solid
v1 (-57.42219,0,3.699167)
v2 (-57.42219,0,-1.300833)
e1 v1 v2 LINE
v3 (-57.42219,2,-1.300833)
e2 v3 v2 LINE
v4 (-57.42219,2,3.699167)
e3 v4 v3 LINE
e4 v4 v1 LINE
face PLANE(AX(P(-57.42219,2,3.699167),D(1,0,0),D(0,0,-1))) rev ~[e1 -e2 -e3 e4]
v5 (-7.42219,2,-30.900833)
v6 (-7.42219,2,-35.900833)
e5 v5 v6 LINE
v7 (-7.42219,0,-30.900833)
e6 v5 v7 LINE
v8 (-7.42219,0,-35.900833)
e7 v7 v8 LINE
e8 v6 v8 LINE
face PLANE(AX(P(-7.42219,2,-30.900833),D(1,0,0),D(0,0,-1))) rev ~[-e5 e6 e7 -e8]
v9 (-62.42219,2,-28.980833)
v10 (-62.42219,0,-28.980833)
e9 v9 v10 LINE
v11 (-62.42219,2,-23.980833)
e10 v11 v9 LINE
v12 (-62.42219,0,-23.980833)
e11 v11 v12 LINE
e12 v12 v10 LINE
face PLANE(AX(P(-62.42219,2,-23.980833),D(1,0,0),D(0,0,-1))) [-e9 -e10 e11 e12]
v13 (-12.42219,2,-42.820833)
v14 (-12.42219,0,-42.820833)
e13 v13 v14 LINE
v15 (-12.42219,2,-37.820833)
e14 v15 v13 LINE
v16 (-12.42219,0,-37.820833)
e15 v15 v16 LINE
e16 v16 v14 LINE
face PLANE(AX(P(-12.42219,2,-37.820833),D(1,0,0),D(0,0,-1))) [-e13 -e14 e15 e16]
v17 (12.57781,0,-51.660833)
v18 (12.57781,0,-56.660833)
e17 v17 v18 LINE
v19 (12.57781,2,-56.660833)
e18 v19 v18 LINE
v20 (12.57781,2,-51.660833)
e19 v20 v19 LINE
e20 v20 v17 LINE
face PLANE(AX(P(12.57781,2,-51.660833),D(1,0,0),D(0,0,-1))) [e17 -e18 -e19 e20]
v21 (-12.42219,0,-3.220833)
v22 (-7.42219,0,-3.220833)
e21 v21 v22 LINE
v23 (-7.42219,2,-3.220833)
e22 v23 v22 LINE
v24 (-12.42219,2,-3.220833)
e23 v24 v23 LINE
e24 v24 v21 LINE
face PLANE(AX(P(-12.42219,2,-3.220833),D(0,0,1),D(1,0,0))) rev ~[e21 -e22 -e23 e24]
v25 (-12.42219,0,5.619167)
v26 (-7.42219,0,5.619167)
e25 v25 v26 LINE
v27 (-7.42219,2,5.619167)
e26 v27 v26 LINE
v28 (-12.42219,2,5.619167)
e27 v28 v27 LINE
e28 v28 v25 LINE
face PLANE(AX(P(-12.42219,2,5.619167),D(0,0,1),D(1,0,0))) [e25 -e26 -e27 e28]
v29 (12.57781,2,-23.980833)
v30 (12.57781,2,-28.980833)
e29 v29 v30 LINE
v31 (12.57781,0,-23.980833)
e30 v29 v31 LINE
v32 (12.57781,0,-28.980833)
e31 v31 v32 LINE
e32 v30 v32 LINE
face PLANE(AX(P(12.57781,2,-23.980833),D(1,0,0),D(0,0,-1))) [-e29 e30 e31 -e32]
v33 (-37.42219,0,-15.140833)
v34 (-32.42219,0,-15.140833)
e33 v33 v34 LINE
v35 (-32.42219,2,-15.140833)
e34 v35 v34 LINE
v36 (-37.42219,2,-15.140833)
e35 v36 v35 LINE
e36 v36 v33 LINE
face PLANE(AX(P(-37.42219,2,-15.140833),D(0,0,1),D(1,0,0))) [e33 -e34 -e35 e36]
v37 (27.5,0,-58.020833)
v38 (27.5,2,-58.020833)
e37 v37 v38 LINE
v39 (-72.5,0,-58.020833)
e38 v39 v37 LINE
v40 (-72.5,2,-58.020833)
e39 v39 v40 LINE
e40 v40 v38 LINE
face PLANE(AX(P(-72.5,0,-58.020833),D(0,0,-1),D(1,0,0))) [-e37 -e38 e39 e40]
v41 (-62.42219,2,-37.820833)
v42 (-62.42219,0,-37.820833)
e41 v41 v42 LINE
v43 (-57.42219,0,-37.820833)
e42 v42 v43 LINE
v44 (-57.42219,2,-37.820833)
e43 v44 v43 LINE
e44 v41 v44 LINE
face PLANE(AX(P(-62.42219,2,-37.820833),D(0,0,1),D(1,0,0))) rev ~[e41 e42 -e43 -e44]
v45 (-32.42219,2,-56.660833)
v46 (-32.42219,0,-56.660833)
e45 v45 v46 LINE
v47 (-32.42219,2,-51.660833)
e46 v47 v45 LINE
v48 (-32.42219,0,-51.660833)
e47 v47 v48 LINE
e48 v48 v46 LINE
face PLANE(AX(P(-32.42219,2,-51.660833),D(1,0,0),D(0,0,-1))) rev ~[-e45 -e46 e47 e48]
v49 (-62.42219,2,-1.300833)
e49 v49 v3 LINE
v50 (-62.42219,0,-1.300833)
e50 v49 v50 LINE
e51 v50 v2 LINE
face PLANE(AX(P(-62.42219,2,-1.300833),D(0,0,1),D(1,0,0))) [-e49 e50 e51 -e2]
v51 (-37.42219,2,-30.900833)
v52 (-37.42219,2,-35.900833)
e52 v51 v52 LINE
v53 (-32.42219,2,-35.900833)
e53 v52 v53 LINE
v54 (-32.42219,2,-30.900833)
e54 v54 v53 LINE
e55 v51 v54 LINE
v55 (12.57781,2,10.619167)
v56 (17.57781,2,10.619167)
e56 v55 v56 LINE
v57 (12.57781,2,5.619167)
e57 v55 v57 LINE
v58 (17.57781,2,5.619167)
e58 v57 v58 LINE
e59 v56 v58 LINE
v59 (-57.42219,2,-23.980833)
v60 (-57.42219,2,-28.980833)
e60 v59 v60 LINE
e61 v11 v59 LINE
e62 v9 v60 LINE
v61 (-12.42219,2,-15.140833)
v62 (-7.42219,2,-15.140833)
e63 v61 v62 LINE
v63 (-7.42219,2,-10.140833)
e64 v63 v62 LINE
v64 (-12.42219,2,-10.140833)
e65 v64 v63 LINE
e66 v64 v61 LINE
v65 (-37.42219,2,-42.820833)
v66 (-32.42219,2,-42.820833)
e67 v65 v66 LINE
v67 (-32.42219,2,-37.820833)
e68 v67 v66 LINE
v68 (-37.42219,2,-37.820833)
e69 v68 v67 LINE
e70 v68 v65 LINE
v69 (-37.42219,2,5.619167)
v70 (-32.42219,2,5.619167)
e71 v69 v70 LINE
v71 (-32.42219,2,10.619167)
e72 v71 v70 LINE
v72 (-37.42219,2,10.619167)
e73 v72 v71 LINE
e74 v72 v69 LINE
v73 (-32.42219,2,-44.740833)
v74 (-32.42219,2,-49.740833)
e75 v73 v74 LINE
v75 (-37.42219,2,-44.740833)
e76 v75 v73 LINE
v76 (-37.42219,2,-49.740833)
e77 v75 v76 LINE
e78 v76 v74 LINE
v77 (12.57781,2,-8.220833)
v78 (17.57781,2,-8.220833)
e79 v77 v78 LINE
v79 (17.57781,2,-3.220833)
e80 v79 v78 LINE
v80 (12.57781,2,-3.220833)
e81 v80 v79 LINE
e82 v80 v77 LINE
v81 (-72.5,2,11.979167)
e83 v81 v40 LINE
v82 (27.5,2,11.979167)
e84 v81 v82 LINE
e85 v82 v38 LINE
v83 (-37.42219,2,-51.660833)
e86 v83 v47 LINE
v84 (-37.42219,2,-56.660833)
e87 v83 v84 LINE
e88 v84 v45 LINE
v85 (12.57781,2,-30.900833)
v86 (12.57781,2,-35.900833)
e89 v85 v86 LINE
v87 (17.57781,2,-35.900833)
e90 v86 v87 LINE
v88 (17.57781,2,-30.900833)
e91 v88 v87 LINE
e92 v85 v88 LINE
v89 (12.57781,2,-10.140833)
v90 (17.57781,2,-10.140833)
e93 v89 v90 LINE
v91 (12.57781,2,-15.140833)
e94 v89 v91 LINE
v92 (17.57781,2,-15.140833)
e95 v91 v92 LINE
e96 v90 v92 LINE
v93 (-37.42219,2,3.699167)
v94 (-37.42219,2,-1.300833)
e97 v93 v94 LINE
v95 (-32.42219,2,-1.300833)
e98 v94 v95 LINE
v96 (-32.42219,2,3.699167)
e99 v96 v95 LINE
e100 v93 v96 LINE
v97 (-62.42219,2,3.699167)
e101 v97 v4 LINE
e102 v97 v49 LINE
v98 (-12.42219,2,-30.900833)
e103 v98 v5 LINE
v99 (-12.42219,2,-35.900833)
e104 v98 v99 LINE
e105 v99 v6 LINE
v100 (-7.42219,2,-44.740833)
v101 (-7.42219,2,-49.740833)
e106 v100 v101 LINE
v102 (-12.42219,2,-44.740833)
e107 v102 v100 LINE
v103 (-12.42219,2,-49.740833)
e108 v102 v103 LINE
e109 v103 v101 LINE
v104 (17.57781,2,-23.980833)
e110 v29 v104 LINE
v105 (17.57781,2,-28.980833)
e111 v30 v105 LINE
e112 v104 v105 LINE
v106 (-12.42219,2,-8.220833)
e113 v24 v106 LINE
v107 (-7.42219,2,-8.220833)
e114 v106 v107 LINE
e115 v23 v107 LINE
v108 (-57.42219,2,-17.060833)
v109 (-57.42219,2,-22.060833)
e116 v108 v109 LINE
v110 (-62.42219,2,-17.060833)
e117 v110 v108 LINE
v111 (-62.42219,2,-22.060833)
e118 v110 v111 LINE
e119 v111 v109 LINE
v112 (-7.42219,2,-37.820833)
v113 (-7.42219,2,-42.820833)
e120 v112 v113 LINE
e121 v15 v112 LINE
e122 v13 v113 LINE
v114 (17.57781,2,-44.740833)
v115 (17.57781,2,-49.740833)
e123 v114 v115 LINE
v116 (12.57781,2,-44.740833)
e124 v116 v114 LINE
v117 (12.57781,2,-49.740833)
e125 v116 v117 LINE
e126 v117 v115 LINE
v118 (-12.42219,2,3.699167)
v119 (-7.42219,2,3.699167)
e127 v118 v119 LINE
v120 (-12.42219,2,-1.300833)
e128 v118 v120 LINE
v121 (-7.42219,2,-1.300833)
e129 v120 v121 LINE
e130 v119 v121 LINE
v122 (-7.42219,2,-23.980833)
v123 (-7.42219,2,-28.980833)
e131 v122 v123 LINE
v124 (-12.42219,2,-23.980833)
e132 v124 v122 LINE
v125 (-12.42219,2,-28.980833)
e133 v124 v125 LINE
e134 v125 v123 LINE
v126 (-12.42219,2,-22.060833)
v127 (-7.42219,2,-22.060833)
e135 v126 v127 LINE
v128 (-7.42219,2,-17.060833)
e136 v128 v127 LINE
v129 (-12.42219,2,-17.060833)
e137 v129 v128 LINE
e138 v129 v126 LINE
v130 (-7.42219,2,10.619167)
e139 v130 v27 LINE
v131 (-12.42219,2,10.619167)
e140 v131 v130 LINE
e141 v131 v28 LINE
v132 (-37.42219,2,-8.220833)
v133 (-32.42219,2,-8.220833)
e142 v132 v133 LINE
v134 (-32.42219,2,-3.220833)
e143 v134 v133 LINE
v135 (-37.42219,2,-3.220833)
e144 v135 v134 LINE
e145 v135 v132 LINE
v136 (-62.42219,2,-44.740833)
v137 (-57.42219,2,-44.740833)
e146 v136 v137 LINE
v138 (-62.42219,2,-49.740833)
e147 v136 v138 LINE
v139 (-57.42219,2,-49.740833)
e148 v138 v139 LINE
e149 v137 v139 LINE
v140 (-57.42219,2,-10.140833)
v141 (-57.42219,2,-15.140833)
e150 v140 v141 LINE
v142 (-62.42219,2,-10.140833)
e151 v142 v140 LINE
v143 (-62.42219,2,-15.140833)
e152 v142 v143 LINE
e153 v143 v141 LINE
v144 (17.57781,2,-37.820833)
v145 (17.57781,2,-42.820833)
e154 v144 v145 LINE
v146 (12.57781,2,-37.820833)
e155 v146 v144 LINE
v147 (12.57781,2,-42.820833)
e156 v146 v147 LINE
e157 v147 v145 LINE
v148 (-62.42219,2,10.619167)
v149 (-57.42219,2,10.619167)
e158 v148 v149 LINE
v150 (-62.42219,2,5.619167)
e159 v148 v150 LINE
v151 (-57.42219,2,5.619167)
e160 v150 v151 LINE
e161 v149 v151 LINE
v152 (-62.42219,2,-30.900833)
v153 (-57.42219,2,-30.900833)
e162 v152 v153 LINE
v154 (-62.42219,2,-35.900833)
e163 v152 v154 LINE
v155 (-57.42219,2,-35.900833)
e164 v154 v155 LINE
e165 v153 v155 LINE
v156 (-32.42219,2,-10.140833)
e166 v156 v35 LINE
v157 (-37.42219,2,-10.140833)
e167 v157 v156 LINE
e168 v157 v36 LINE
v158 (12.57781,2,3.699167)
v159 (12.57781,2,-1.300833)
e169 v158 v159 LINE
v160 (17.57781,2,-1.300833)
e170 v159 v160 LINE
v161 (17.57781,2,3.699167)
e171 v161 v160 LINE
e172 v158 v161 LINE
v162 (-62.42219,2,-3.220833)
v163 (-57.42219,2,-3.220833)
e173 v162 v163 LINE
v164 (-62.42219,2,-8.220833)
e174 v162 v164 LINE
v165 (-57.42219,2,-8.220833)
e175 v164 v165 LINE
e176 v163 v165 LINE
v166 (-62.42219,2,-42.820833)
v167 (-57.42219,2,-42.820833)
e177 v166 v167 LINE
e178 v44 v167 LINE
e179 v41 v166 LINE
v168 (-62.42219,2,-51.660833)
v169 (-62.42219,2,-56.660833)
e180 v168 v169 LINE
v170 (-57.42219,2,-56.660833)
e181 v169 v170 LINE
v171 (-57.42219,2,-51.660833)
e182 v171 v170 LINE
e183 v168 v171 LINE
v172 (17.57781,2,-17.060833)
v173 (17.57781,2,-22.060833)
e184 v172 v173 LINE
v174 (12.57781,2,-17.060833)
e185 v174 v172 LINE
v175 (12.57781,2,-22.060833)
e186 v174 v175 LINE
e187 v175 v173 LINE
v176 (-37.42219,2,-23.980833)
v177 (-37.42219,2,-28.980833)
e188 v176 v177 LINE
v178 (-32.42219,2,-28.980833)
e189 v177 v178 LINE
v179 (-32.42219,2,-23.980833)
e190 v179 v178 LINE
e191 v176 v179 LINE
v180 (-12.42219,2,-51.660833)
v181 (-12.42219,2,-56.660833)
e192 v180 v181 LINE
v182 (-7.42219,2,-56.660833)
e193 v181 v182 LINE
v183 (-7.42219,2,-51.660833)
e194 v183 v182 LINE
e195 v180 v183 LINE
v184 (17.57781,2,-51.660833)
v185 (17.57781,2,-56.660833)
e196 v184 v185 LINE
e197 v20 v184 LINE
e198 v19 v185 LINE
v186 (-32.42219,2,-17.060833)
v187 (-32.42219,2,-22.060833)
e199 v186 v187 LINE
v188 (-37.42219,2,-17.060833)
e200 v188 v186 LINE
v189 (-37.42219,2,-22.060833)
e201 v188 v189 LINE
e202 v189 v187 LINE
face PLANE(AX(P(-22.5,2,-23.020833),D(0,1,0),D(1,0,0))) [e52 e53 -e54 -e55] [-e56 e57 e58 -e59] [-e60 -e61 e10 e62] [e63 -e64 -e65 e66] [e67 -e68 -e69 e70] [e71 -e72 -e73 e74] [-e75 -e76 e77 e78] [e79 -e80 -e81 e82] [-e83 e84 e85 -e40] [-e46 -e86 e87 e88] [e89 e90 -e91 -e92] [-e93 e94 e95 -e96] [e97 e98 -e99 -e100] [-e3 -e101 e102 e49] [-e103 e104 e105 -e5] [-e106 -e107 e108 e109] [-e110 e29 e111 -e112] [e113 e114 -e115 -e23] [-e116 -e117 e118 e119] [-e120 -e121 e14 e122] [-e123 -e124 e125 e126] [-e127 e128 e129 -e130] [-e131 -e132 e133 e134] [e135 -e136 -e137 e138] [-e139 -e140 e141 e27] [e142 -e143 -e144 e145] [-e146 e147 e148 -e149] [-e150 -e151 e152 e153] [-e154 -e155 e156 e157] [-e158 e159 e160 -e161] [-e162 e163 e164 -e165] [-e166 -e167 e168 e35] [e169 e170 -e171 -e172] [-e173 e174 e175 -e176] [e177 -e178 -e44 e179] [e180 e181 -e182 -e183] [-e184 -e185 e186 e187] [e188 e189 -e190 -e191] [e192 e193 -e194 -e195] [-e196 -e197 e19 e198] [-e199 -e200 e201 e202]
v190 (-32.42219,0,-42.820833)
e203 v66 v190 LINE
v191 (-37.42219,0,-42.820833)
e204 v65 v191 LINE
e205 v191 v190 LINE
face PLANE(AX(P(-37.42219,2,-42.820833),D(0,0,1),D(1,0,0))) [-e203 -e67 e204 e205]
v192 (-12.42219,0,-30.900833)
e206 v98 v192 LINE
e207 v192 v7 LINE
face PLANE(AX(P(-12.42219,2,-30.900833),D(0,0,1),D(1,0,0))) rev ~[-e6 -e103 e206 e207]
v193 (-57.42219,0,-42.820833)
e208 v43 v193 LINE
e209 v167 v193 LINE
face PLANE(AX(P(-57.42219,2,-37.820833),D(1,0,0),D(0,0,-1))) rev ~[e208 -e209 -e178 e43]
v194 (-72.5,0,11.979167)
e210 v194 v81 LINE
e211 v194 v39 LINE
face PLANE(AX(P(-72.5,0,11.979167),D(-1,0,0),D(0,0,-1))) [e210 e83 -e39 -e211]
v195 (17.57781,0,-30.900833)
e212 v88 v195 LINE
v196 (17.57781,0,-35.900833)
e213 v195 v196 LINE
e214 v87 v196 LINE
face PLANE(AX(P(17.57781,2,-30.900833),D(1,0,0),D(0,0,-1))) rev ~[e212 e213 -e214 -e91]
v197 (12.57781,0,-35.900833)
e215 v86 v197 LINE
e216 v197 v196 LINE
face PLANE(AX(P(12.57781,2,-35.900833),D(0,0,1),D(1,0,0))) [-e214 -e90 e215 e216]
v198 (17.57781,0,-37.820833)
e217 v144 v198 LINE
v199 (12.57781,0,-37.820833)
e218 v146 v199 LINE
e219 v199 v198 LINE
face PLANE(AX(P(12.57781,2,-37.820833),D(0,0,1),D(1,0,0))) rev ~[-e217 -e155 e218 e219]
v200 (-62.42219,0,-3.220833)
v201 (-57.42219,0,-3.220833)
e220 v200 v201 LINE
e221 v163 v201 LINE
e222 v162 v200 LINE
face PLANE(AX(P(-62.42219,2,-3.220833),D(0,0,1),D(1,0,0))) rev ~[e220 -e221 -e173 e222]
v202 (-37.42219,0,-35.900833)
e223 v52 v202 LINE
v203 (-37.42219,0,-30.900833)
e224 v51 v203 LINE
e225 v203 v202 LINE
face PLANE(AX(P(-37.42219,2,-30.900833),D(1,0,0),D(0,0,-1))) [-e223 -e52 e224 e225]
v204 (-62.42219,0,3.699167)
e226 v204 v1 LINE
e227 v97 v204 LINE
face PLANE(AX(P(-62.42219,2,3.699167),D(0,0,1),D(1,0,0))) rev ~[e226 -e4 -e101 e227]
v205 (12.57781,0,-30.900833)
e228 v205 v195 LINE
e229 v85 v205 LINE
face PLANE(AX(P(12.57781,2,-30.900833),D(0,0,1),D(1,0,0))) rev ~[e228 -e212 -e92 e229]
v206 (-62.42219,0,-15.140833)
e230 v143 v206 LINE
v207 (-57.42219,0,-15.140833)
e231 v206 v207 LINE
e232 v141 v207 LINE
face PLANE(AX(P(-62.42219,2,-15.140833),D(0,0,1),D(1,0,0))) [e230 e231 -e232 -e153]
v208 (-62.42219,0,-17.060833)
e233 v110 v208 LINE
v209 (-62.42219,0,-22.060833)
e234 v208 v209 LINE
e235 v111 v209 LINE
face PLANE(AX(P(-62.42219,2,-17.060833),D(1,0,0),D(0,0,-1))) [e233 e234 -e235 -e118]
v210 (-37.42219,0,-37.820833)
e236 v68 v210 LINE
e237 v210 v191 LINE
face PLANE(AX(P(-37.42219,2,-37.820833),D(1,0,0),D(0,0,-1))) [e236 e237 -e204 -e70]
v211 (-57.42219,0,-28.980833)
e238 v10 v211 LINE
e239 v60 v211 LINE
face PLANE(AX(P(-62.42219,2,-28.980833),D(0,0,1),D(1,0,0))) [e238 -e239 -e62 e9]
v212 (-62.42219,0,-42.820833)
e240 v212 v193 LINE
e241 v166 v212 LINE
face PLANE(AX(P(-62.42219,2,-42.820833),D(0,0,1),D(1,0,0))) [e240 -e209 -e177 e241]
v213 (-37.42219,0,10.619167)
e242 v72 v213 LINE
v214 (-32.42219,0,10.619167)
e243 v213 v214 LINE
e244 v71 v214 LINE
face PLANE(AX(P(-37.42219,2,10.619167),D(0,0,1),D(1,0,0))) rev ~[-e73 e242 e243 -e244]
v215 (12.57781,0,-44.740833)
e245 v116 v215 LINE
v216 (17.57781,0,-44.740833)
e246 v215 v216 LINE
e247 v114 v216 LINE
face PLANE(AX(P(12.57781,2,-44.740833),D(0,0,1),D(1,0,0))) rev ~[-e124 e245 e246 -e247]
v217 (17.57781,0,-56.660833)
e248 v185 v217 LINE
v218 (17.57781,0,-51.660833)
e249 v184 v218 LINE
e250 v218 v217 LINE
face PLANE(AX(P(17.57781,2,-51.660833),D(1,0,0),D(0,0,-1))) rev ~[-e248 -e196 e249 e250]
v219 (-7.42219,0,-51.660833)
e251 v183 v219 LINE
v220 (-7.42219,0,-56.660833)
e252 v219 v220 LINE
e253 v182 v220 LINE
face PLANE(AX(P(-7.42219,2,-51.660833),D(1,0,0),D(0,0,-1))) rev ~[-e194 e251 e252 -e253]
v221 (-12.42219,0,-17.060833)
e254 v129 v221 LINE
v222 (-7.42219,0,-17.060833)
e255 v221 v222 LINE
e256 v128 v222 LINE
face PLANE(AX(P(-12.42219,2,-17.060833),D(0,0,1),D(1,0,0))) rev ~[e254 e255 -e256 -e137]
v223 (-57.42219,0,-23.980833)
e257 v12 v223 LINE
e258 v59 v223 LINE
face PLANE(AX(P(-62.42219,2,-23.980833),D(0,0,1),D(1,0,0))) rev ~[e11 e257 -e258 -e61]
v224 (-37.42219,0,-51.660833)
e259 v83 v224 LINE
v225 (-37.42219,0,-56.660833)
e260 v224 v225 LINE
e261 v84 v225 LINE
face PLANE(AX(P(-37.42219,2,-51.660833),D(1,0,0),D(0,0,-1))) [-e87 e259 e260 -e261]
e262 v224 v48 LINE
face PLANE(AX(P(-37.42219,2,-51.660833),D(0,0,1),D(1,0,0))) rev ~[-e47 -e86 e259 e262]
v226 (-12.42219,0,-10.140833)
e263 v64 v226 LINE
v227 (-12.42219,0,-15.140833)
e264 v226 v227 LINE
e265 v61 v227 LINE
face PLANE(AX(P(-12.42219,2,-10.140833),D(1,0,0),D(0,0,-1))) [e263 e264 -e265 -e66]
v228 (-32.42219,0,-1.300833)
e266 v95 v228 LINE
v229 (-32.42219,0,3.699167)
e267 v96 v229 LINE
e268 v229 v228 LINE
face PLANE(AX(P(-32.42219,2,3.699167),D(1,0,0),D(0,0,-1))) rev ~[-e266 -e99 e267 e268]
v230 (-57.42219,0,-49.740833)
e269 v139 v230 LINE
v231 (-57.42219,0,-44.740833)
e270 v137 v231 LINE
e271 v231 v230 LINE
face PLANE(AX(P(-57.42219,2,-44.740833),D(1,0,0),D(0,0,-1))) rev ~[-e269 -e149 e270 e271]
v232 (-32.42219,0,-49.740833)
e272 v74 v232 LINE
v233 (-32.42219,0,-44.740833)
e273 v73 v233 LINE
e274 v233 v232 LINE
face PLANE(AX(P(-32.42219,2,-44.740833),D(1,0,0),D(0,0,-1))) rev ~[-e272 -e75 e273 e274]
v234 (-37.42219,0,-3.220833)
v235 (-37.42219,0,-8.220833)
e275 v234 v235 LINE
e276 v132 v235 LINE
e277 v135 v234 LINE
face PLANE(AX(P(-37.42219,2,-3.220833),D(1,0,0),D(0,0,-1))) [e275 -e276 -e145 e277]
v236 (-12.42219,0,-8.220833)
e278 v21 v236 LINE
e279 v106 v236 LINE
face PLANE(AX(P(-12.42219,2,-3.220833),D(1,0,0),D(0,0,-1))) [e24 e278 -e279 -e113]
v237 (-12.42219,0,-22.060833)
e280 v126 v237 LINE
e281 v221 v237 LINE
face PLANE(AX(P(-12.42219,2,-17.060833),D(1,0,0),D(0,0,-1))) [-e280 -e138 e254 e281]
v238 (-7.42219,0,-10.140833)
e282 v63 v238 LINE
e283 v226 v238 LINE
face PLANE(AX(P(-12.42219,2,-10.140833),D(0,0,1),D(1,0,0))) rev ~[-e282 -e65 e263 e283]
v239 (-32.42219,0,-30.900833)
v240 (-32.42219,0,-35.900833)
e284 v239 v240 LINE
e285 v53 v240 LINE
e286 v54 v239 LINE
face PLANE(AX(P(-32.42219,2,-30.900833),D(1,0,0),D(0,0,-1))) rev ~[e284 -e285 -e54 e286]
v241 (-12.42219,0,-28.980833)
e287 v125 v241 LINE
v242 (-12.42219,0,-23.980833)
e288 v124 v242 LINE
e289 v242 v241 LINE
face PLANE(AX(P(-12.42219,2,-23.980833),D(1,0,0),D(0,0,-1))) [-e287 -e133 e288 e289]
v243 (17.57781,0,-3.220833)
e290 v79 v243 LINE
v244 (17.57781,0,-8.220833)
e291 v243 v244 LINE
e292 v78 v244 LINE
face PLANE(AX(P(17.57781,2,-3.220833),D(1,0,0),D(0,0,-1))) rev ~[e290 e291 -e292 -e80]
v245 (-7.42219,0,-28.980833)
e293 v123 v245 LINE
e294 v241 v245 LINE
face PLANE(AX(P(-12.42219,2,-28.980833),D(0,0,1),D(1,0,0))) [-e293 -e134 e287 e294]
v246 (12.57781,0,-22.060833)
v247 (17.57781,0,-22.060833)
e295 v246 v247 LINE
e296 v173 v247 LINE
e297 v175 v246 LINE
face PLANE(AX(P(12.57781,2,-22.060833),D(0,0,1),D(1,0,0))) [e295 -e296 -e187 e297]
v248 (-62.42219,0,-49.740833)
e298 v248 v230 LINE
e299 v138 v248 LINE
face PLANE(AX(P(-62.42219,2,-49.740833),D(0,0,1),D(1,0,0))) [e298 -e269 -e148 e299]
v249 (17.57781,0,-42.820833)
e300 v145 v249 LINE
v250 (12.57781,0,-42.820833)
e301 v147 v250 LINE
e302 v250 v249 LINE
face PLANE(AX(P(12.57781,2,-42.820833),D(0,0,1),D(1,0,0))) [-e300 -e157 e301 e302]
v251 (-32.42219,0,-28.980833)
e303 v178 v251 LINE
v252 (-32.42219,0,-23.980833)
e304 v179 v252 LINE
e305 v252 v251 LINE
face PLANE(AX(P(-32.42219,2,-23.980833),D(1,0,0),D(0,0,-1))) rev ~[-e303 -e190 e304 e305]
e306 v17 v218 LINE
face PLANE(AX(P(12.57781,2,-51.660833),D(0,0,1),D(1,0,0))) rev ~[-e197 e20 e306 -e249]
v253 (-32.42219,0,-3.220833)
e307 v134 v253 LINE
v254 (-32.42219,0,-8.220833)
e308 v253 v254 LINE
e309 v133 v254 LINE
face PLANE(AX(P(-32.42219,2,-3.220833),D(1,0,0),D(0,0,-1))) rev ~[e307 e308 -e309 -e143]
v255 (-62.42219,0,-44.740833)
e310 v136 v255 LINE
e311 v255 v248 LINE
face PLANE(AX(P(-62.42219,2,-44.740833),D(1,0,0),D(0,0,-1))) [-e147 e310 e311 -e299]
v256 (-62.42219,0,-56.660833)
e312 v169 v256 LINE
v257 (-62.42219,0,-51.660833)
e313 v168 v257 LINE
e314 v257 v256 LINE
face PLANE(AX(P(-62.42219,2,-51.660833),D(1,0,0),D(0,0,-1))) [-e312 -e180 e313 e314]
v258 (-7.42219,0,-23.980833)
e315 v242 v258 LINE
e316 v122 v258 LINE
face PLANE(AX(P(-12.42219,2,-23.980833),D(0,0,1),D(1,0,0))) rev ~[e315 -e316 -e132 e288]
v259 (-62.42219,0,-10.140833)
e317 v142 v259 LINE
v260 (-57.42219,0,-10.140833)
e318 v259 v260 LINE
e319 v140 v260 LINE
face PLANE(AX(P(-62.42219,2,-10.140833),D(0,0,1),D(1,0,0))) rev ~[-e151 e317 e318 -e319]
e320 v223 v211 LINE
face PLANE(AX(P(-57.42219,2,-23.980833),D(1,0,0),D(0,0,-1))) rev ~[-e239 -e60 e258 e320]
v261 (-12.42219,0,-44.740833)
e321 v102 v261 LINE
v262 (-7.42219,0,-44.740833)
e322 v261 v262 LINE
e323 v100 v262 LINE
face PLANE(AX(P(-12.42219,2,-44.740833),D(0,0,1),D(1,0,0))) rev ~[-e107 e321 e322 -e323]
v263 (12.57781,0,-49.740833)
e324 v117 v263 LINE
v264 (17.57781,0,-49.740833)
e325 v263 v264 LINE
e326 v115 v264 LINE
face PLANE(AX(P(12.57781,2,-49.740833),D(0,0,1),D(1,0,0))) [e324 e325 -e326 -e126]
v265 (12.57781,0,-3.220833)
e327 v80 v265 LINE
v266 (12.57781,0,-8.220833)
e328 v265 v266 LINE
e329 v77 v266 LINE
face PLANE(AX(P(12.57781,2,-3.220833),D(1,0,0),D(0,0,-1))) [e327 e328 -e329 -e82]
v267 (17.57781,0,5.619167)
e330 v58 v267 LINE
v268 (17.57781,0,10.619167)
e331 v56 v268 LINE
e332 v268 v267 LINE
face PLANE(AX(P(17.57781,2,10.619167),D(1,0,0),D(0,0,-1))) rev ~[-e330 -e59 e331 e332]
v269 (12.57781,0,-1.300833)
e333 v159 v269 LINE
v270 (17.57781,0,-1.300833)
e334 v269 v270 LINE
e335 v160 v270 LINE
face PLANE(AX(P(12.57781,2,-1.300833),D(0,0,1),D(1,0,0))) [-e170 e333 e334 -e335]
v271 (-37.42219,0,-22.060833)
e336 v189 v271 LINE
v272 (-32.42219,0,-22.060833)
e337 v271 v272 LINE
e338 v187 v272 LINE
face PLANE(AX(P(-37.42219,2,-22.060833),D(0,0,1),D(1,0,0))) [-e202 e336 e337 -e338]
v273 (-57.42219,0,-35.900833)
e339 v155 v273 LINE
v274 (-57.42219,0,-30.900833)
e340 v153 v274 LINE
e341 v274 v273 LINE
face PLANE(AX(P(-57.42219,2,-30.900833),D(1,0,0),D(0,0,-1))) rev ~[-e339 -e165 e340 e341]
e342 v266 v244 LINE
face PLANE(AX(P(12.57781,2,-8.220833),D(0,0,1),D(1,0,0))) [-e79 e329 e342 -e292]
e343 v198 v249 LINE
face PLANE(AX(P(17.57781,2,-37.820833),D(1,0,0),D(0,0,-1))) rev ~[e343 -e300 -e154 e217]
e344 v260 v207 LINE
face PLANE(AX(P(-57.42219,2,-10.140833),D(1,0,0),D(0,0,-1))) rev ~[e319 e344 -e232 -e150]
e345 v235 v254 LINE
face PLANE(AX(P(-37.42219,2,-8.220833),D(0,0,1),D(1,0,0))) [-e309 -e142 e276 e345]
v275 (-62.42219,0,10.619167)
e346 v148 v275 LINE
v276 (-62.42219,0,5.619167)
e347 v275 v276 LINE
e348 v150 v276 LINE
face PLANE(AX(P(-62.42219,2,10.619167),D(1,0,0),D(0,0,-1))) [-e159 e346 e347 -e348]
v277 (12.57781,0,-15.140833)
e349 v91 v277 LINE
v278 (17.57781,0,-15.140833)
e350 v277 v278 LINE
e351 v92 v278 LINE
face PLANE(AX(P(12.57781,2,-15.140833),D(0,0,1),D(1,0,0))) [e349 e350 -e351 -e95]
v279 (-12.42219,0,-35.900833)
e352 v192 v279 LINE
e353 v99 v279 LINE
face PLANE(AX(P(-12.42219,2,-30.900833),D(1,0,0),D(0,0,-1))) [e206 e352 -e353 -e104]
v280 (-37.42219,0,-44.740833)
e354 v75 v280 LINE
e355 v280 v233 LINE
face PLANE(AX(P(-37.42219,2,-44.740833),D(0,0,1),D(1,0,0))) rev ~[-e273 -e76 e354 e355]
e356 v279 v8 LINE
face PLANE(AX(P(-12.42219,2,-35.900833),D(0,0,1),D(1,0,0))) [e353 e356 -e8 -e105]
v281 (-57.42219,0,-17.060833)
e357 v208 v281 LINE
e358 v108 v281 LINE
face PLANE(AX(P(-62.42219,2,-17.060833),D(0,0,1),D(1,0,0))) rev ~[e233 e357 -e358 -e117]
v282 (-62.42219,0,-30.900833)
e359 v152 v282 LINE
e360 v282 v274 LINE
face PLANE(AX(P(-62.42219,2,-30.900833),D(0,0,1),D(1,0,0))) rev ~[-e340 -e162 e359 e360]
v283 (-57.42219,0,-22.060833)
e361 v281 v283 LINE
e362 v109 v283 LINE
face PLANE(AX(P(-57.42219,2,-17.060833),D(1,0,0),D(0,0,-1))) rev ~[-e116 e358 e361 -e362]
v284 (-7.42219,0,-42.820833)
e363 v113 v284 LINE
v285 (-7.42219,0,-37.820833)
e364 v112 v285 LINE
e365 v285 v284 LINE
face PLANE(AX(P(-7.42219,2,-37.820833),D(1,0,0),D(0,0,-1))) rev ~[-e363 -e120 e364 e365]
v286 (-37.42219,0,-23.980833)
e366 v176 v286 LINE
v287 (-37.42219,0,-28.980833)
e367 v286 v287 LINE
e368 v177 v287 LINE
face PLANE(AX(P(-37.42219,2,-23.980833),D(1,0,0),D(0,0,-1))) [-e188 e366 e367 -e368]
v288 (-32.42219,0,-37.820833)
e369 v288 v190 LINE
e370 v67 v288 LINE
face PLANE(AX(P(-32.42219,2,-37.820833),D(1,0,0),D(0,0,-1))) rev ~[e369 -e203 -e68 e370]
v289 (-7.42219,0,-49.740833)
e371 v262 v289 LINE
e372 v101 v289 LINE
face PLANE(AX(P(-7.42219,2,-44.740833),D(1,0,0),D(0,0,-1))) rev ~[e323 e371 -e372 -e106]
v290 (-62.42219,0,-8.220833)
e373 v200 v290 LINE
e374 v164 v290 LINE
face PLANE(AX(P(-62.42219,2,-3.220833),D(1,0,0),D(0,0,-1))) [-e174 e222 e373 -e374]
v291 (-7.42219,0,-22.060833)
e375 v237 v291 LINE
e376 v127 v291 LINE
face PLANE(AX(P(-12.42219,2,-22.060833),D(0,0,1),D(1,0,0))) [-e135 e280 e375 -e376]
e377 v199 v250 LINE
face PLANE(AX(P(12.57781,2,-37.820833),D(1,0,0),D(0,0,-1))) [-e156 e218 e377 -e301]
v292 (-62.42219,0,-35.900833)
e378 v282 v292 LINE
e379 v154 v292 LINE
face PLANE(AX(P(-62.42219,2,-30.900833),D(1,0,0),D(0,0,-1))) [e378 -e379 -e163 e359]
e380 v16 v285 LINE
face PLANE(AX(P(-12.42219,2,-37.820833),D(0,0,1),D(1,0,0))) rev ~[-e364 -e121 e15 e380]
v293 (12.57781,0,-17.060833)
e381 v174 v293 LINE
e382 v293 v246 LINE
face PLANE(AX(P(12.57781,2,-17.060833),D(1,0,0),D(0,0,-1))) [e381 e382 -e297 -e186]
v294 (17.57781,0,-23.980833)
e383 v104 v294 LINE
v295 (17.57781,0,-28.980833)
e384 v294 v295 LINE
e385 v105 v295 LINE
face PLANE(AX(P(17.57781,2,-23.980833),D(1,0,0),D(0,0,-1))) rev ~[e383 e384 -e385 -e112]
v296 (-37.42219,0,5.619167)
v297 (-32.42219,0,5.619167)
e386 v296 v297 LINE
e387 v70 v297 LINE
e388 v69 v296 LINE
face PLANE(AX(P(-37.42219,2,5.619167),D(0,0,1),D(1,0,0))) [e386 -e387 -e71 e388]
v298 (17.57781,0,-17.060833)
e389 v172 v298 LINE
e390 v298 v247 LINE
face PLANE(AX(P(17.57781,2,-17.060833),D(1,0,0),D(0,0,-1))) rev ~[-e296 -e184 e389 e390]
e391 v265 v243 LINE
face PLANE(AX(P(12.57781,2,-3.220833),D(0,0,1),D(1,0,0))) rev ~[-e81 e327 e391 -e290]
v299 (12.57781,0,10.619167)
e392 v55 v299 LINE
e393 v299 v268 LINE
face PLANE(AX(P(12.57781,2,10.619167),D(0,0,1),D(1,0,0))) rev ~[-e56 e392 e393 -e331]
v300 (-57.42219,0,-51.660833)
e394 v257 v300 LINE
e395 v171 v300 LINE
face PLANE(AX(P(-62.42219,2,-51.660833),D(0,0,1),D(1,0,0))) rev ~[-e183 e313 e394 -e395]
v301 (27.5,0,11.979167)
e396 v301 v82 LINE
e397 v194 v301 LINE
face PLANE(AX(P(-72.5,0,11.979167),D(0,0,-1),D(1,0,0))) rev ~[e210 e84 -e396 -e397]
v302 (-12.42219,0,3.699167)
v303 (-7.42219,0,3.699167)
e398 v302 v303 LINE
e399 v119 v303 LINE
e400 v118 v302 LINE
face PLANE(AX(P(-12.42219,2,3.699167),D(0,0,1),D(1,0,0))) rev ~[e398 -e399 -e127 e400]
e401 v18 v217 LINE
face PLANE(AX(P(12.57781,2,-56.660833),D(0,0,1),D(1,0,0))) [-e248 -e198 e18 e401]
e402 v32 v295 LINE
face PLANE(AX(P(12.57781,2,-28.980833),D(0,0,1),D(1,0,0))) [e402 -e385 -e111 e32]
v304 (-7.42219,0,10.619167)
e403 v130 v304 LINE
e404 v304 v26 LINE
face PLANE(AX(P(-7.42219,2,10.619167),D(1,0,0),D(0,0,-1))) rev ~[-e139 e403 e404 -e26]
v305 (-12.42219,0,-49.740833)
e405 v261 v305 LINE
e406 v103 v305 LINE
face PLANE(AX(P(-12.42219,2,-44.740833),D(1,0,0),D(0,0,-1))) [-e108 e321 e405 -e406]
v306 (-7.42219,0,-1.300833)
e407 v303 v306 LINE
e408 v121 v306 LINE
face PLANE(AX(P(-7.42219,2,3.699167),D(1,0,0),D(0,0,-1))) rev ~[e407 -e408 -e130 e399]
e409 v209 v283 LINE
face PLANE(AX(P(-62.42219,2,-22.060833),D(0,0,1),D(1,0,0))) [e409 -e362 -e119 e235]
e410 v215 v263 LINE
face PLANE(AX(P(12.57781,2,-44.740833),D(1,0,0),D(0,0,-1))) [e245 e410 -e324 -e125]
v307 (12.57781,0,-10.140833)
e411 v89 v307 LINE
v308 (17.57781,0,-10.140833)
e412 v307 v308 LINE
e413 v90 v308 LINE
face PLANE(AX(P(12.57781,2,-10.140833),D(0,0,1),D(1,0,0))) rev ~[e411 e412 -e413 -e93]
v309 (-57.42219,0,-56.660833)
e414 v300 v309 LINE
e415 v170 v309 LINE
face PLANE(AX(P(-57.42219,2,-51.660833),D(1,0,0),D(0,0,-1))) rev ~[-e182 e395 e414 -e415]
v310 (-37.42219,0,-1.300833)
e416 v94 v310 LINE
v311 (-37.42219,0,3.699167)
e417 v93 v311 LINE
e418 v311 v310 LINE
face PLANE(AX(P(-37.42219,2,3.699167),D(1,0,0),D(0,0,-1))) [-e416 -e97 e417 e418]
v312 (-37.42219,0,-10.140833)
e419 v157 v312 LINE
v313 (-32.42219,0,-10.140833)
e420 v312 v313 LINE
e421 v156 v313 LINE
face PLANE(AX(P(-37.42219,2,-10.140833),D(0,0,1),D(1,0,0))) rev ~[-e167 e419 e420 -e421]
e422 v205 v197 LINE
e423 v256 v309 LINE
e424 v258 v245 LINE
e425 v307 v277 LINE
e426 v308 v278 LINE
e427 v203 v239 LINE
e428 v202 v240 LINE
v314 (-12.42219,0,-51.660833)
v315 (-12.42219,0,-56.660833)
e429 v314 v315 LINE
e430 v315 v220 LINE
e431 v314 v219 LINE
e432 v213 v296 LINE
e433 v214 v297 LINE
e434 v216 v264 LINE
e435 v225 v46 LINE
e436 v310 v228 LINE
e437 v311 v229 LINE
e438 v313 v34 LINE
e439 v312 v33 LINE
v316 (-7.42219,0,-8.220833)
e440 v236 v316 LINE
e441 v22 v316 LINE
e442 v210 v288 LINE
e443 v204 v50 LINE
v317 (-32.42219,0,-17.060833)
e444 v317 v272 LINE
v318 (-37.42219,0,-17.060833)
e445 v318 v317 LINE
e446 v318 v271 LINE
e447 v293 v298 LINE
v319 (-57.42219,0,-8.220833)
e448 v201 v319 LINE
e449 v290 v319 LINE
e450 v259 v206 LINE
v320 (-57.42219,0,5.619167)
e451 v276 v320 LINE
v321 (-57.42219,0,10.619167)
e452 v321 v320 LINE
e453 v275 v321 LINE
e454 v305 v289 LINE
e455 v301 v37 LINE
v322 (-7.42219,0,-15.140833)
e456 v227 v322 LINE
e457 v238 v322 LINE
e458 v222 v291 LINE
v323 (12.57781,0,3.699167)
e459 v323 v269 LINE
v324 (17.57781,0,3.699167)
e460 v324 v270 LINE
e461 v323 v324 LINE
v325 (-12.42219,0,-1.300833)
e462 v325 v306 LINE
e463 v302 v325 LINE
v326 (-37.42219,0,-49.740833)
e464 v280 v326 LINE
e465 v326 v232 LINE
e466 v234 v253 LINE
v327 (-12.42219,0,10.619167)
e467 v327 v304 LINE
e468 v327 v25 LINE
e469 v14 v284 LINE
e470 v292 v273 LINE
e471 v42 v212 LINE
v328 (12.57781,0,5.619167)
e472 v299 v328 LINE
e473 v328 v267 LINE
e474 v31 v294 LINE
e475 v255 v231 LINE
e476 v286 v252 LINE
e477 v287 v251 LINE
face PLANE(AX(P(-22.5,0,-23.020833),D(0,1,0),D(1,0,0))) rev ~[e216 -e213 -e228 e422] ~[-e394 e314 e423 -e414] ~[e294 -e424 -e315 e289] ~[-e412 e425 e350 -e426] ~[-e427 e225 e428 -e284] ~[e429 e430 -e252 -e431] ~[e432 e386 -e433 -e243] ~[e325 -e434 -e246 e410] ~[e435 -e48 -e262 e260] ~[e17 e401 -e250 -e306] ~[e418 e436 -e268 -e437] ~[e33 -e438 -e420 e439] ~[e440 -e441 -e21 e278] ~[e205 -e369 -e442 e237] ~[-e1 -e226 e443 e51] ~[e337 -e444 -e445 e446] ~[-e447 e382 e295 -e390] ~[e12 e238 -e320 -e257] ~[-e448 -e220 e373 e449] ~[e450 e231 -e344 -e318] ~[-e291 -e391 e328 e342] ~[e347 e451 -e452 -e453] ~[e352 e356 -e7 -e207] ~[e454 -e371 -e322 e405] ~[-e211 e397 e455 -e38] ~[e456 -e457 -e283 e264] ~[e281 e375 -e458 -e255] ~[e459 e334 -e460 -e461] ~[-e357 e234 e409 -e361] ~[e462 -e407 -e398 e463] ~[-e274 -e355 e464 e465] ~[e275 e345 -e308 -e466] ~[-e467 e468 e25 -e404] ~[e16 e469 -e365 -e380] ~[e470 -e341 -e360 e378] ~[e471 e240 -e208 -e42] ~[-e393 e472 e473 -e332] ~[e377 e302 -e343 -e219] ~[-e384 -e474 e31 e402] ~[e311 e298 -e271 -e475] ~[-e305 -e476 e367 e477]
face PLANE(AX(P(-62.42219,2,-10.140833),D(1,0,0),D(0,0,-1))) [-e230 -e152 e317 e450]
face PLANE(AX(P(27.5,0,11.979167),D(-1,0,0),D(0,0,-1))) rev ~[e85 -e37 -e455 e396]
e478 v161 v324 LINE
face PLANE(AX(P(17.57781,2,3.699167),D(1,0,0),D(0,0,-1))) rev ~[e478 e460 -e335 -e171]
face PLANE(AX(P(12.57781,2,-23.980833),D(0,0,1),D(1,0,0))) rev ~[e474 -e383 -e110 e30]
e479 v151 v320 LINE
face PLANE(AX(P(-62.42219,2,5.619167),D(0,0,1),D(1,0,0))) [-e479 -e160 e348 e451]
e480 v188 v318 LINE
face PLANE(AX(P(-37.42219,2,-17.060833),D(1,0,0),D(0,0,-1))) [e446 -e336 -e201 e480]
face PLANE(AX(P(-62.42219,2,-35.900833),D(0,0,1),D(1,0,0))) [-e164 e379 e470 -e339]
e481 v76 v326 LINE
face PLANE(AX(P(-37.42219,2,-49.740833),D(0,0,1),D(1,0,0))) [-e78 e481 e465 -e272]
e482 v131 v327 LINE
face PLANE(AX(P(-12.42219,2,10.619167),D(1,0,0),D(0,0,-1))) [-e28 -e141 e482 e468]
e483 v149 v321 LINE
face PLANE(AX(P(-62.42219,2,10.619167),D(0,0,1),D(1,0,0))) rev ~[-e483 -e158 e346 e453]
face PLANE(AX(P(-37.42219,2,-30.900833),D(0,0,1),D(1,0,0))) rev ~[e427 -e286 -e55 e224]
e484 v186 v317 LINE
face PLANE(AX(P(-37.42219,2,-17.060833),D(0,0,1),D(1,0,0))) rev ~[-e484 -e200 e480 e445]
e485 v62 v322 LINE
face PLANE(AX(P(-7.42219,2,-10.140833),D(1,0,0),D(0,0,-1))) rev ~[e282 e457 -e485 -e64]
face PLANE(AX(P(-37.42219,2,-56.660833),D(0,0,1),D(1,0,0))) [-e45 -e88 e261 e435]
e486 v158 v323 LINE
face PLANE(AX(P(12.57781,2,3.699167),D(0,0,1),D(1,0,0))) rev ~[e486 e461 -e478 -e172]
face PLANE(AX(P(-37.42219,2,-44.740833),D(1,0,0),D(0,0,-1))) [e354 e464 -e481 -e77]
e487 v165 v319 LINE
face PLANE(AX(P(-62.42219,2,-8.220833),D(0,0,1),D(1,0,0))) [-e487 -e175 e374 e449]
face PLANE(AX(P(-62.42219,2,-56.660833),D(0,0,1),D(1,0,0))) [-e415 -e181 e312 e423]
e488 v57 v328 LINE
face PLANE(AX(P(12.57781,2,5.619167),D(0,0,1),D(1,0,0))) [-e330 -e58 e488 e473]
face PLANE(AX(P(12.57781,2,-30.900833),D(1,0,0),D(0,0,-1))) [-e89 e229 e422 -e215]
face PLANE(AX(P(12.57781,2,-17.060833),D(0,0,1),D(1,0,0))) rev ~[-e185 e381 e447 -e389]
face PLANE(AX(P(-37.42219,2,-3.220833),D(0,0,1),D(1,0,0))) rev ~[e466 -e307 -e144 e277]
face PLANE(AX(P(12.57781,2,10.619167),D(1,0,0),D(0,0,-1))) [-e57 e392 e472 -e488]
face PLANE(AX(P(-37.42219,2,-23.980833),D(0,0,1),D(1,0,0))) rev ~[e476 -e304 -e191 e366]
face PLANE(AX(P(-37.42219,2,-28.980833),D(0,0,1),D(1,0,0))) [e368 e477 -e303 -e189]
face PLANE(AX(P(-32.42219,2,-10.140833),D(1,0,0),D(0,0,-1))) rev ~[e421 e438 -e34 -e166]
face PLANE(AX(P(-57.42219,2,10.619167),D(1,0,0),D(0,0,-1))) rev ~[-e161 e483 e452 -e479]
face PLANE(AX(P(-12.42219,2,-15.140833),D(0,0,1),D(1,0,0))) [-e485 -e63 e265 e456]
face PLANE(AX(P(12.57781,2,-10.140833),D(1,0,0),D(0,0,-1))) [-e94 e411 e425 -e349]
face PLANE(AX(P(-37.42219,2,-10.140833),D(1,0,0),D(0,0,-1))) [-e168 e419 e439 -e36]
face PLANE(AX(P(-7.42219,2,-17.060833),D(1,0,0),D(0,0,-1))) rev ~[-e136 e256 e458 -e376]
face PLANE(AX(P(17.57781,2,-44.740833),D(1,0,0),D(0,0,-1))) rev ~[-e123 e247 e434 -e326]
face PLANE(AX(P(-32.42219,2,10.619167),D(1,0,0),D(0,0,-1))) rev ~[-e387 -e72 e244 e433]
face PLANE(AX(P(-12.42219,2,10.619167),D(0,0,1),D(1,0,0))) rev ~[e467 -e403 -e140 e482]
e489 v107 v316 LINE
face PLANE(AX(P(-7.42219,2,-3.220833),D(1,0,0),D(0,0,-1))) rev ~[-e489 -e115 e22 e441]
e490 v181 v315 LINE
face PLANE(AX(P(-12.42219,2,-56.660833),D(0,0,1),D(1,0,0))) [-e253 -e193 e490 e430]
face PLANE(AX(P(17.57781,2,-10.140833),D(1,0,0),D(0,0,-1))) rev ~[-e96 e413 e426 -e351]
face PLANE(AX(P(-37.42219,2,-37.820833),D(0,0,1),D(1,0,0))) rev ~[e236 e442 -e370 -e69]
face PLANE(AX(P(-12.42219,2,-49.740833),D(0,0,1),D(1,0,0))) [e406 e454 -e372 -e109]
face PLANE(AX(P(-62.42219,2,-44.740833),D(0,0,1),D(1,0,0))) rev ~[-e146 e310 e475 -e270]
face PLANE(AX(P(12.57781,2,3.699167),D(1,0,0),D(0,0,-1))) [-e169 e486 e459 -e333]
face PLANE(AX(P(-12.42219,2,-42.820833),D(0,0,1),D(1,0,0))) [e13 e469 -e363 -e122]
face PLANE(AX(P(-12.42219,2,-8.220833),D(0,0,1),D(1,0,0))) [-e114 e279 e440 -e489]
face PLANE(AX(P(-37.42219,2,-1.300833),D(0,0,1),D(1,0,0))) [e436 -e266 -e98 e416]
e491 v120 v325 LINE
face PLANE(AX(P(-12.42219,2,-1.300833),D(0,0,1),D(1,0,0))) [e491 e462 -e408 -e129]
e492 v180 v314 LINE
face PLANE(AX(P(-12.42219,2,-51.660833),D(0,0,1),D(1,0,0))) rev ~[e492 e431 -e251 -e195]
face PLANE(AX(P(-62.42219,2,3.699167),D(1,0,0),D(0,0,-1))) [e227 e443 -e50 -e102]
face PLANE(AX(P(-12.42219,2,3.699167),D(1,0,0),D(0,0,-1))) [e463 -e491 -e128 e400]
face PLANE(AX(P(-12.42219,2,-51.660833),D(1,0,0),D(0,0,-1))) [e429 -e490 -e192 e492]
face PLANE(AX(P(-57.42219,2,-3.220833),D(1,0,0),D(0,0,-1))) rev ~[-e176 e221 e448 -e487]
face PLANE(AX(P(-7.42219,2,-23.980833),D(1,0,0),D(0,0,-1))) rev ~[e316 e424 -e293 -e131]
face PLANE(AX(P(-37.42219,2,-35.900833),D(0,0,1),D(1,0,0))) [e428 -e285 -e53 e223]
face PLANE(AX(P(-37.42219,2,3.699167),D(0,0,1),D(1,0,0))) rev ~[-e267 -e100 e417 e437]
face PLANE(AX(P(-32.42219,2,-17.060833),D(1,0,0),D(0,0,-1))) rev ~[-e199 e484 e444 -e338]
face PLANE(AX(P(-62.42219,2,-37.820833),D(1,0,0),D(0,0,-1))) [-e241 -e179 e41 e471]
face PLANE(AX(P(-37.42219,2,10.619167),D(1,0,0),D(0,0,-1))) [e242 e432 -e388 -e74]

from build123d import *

# Parameters (mm, degrees)
SKETCH1_W           = 100
SKETCH1_H           = 70
BOSS_EXTRUDE1_DEPTH = 2
SKETCH2_W           = 5
SKETCH2_H           = 5
CUT_EXTRUDE1_DEPTH  = 10


with BuildPart() as part:
    # Sketch1 → Boss-Extrude1 (new body)
    with BuildSketch(Plane(origin=(0, 0, 0), x_dir=(1, 0, 0), z_dir=(0, 1, 0))):
        with Locations((-22.5, 23.020833333)):
            Rectangle(SKETCH1_W, SKETCH1_H)
    extrude(amount=BOSS_EXTRUDE1_DEPTH)

    # Sketch2 → Cut-Extrude1 (cut)
    with BuildSketch(Plane(origin=(0, 2, 0), x_dir=(1, 0, 0), z_dir=(0, 1, 0))):
        with Locations((-34.922189654, 54.160833333)):
            Rectangle(SKETCH2_W, SKETCH2_H)
        with Locations((-59.922189654, 54.160833333)):
            Rectangle(SKETCH2_W, SKETCH2_H)
        with Locations((-9.922189654, 54.160833333)):
            Rectangle(SKETCH2_W, SKETCH2_H)
        with Locations((15.077810346, 54.160833333)):
            Rectangle(SKETCH2_W, SKETCH2_H)
        with Locations((-34.922189654, 47.240833333)):
            Rectangle(SKETCH2_W, SKETCH2_H)
        with Locations((-9.922189654, 47.240833333)):
            Rectangle(SKETCH2_W, SKETCH2_H)
        with Locations((15.077810346, 47.240833333)):
            Rectangle(SKETCH2_W, SKETCH2_H)
        with Locations((-34.922189654, 40.320833333)):
            Rectangle(SKETCH2_W, SKETCH2_H)
        with Locations((-9.922189654, 40.320833333)):
            Rectangle(SKETCH2_W, SKETCH2_H)
        with Locations((15.077810346, 40.320833333)):
            Rectangle(SKETCH2_W, SKETCH2_H)
        with Locations((-34.922189654, 33.400833333)):
            Rectangle(SKETCH2_W, SKETCH2_H)
        with Locations((-9.922189654, 33.400833333)):
            Rectangle(SKETCH2_W, SKETCH2_H)
        with Locations((15.077810346, 33.400833333)):
            Rectangle(SKETCH2_W, SKETCH2_H)
        with Locations((-34.922189654, 26.480833333)):
            Rectangle(SKETCH2_W, SKETCH2_H)
        with Locations((-9.922189654, 26.480833333)):
            Rectangle(SKETCH2_W, SKETCH2_H)
        with Locations((15.077810346, 26.480833333)):
            Rectangle(SKETCH2_W, SKETCH2_H)
        with Locations((-34.922189654, 19.560833333)):
            Rectangle(SKETCH2_W, SKETCH2_H)
        with Locations((-9.922189654, 19.560833333)):
            Rectangle(SKETCH2_W, SKETCH2_H)
        with Locations((15.077810346, 19.560833333)):
            Rectangle(SKETCH2_W, SKETCH2_H)
        with Locations((-34.922189654, 12.640833333)):
            Rectangle(SKETCH2_W, SKETCH2_H)
        with Locations((-9.922189654, 12.640833333)):
            Rectangle(SKETCH2_W, SKETCH2_H)
        with Locations((15.077810346, 12.640833333)):
            Rectangle(SKETCH2_W, SKETCH2_H)
        with Locations((-34.922189654, 5.720833333)):
            Rectangle(SKETCH2_W, SKETCH2_H)
        with Locations((-9.922189654, 5.720833333)):
            Rectangle(SKETCH2_W, SKETCH2_H)
        with Locations((15.077810346, 5.720833333)):
            Rectangle(SKETCH2_W, SKETCH2_H)
        with Locations((-34.922189654, -1.199166667)):
            Rectangle(SKETCH2_W, SKETCH2_H)
        with Locations((-9.922189654, -1.199166667)):
            Rectangle(SKETCH2_W, SKETCH2_H)
        with Locations((15.077810346, -1.199166667)):
            Rectangle(SKETCH2_W, SKETCH2_H)
        with Locations((-34.922189654, -8.119166667)):
            Rectangle(SKETCH2_W, SKETCH2_H)
        with Locations((-9.922189654, -8.119166667)):
            Rectangle(SKETCH2_W, SKETCH2_H)
        with Locations((15.077810346, -8.119166667)):
            Rectangle(SKETCH2_W, SKETCH2_H)
        with Locations((-59.922189654, 47.240833333)):
            Rectangle(SKETCH2_W, SKETCH2_H)
        with Locations((-59.922189654, 40.320833333)):
            Rectangle(SKETCH2_W, SKETCH2_H)
        with Locations((-59.922189654, 33.400833333)):
            Rectangle(SKETCH2_W, SKETCH2_H)
        with Locations((-59.922189654, 26.480833333)):
            Rectangle(SKETCH2_W, SKETCH2_H)
        with Locations((-59.922189654, 19.560833333)):
            Rectangle(SKETCH2_W, SKETCH2_H)
        with Locations((-59.922189654, 12.640833333)):
            Rectangle(SKETCH2_W, SKETCH2_H)
        with Locations((-59.922189654, 5.720833333)):
            Rectangle(SKETCH2_W, SKETCH2_H)
        with Locations((-59.922189654, -1.199166667)):
            Rectangle(SKETCH2_W, SKETCH2_H)
        with Locations((-59.922189654, -8.119166667)):
            Rectangle(SKETCH2_W, SKETCH2_H)
    extrude(amount=-CUT_EXTRUDE1_DEPTH, mode=Mode.SUBTRACT)


solid = part.part
